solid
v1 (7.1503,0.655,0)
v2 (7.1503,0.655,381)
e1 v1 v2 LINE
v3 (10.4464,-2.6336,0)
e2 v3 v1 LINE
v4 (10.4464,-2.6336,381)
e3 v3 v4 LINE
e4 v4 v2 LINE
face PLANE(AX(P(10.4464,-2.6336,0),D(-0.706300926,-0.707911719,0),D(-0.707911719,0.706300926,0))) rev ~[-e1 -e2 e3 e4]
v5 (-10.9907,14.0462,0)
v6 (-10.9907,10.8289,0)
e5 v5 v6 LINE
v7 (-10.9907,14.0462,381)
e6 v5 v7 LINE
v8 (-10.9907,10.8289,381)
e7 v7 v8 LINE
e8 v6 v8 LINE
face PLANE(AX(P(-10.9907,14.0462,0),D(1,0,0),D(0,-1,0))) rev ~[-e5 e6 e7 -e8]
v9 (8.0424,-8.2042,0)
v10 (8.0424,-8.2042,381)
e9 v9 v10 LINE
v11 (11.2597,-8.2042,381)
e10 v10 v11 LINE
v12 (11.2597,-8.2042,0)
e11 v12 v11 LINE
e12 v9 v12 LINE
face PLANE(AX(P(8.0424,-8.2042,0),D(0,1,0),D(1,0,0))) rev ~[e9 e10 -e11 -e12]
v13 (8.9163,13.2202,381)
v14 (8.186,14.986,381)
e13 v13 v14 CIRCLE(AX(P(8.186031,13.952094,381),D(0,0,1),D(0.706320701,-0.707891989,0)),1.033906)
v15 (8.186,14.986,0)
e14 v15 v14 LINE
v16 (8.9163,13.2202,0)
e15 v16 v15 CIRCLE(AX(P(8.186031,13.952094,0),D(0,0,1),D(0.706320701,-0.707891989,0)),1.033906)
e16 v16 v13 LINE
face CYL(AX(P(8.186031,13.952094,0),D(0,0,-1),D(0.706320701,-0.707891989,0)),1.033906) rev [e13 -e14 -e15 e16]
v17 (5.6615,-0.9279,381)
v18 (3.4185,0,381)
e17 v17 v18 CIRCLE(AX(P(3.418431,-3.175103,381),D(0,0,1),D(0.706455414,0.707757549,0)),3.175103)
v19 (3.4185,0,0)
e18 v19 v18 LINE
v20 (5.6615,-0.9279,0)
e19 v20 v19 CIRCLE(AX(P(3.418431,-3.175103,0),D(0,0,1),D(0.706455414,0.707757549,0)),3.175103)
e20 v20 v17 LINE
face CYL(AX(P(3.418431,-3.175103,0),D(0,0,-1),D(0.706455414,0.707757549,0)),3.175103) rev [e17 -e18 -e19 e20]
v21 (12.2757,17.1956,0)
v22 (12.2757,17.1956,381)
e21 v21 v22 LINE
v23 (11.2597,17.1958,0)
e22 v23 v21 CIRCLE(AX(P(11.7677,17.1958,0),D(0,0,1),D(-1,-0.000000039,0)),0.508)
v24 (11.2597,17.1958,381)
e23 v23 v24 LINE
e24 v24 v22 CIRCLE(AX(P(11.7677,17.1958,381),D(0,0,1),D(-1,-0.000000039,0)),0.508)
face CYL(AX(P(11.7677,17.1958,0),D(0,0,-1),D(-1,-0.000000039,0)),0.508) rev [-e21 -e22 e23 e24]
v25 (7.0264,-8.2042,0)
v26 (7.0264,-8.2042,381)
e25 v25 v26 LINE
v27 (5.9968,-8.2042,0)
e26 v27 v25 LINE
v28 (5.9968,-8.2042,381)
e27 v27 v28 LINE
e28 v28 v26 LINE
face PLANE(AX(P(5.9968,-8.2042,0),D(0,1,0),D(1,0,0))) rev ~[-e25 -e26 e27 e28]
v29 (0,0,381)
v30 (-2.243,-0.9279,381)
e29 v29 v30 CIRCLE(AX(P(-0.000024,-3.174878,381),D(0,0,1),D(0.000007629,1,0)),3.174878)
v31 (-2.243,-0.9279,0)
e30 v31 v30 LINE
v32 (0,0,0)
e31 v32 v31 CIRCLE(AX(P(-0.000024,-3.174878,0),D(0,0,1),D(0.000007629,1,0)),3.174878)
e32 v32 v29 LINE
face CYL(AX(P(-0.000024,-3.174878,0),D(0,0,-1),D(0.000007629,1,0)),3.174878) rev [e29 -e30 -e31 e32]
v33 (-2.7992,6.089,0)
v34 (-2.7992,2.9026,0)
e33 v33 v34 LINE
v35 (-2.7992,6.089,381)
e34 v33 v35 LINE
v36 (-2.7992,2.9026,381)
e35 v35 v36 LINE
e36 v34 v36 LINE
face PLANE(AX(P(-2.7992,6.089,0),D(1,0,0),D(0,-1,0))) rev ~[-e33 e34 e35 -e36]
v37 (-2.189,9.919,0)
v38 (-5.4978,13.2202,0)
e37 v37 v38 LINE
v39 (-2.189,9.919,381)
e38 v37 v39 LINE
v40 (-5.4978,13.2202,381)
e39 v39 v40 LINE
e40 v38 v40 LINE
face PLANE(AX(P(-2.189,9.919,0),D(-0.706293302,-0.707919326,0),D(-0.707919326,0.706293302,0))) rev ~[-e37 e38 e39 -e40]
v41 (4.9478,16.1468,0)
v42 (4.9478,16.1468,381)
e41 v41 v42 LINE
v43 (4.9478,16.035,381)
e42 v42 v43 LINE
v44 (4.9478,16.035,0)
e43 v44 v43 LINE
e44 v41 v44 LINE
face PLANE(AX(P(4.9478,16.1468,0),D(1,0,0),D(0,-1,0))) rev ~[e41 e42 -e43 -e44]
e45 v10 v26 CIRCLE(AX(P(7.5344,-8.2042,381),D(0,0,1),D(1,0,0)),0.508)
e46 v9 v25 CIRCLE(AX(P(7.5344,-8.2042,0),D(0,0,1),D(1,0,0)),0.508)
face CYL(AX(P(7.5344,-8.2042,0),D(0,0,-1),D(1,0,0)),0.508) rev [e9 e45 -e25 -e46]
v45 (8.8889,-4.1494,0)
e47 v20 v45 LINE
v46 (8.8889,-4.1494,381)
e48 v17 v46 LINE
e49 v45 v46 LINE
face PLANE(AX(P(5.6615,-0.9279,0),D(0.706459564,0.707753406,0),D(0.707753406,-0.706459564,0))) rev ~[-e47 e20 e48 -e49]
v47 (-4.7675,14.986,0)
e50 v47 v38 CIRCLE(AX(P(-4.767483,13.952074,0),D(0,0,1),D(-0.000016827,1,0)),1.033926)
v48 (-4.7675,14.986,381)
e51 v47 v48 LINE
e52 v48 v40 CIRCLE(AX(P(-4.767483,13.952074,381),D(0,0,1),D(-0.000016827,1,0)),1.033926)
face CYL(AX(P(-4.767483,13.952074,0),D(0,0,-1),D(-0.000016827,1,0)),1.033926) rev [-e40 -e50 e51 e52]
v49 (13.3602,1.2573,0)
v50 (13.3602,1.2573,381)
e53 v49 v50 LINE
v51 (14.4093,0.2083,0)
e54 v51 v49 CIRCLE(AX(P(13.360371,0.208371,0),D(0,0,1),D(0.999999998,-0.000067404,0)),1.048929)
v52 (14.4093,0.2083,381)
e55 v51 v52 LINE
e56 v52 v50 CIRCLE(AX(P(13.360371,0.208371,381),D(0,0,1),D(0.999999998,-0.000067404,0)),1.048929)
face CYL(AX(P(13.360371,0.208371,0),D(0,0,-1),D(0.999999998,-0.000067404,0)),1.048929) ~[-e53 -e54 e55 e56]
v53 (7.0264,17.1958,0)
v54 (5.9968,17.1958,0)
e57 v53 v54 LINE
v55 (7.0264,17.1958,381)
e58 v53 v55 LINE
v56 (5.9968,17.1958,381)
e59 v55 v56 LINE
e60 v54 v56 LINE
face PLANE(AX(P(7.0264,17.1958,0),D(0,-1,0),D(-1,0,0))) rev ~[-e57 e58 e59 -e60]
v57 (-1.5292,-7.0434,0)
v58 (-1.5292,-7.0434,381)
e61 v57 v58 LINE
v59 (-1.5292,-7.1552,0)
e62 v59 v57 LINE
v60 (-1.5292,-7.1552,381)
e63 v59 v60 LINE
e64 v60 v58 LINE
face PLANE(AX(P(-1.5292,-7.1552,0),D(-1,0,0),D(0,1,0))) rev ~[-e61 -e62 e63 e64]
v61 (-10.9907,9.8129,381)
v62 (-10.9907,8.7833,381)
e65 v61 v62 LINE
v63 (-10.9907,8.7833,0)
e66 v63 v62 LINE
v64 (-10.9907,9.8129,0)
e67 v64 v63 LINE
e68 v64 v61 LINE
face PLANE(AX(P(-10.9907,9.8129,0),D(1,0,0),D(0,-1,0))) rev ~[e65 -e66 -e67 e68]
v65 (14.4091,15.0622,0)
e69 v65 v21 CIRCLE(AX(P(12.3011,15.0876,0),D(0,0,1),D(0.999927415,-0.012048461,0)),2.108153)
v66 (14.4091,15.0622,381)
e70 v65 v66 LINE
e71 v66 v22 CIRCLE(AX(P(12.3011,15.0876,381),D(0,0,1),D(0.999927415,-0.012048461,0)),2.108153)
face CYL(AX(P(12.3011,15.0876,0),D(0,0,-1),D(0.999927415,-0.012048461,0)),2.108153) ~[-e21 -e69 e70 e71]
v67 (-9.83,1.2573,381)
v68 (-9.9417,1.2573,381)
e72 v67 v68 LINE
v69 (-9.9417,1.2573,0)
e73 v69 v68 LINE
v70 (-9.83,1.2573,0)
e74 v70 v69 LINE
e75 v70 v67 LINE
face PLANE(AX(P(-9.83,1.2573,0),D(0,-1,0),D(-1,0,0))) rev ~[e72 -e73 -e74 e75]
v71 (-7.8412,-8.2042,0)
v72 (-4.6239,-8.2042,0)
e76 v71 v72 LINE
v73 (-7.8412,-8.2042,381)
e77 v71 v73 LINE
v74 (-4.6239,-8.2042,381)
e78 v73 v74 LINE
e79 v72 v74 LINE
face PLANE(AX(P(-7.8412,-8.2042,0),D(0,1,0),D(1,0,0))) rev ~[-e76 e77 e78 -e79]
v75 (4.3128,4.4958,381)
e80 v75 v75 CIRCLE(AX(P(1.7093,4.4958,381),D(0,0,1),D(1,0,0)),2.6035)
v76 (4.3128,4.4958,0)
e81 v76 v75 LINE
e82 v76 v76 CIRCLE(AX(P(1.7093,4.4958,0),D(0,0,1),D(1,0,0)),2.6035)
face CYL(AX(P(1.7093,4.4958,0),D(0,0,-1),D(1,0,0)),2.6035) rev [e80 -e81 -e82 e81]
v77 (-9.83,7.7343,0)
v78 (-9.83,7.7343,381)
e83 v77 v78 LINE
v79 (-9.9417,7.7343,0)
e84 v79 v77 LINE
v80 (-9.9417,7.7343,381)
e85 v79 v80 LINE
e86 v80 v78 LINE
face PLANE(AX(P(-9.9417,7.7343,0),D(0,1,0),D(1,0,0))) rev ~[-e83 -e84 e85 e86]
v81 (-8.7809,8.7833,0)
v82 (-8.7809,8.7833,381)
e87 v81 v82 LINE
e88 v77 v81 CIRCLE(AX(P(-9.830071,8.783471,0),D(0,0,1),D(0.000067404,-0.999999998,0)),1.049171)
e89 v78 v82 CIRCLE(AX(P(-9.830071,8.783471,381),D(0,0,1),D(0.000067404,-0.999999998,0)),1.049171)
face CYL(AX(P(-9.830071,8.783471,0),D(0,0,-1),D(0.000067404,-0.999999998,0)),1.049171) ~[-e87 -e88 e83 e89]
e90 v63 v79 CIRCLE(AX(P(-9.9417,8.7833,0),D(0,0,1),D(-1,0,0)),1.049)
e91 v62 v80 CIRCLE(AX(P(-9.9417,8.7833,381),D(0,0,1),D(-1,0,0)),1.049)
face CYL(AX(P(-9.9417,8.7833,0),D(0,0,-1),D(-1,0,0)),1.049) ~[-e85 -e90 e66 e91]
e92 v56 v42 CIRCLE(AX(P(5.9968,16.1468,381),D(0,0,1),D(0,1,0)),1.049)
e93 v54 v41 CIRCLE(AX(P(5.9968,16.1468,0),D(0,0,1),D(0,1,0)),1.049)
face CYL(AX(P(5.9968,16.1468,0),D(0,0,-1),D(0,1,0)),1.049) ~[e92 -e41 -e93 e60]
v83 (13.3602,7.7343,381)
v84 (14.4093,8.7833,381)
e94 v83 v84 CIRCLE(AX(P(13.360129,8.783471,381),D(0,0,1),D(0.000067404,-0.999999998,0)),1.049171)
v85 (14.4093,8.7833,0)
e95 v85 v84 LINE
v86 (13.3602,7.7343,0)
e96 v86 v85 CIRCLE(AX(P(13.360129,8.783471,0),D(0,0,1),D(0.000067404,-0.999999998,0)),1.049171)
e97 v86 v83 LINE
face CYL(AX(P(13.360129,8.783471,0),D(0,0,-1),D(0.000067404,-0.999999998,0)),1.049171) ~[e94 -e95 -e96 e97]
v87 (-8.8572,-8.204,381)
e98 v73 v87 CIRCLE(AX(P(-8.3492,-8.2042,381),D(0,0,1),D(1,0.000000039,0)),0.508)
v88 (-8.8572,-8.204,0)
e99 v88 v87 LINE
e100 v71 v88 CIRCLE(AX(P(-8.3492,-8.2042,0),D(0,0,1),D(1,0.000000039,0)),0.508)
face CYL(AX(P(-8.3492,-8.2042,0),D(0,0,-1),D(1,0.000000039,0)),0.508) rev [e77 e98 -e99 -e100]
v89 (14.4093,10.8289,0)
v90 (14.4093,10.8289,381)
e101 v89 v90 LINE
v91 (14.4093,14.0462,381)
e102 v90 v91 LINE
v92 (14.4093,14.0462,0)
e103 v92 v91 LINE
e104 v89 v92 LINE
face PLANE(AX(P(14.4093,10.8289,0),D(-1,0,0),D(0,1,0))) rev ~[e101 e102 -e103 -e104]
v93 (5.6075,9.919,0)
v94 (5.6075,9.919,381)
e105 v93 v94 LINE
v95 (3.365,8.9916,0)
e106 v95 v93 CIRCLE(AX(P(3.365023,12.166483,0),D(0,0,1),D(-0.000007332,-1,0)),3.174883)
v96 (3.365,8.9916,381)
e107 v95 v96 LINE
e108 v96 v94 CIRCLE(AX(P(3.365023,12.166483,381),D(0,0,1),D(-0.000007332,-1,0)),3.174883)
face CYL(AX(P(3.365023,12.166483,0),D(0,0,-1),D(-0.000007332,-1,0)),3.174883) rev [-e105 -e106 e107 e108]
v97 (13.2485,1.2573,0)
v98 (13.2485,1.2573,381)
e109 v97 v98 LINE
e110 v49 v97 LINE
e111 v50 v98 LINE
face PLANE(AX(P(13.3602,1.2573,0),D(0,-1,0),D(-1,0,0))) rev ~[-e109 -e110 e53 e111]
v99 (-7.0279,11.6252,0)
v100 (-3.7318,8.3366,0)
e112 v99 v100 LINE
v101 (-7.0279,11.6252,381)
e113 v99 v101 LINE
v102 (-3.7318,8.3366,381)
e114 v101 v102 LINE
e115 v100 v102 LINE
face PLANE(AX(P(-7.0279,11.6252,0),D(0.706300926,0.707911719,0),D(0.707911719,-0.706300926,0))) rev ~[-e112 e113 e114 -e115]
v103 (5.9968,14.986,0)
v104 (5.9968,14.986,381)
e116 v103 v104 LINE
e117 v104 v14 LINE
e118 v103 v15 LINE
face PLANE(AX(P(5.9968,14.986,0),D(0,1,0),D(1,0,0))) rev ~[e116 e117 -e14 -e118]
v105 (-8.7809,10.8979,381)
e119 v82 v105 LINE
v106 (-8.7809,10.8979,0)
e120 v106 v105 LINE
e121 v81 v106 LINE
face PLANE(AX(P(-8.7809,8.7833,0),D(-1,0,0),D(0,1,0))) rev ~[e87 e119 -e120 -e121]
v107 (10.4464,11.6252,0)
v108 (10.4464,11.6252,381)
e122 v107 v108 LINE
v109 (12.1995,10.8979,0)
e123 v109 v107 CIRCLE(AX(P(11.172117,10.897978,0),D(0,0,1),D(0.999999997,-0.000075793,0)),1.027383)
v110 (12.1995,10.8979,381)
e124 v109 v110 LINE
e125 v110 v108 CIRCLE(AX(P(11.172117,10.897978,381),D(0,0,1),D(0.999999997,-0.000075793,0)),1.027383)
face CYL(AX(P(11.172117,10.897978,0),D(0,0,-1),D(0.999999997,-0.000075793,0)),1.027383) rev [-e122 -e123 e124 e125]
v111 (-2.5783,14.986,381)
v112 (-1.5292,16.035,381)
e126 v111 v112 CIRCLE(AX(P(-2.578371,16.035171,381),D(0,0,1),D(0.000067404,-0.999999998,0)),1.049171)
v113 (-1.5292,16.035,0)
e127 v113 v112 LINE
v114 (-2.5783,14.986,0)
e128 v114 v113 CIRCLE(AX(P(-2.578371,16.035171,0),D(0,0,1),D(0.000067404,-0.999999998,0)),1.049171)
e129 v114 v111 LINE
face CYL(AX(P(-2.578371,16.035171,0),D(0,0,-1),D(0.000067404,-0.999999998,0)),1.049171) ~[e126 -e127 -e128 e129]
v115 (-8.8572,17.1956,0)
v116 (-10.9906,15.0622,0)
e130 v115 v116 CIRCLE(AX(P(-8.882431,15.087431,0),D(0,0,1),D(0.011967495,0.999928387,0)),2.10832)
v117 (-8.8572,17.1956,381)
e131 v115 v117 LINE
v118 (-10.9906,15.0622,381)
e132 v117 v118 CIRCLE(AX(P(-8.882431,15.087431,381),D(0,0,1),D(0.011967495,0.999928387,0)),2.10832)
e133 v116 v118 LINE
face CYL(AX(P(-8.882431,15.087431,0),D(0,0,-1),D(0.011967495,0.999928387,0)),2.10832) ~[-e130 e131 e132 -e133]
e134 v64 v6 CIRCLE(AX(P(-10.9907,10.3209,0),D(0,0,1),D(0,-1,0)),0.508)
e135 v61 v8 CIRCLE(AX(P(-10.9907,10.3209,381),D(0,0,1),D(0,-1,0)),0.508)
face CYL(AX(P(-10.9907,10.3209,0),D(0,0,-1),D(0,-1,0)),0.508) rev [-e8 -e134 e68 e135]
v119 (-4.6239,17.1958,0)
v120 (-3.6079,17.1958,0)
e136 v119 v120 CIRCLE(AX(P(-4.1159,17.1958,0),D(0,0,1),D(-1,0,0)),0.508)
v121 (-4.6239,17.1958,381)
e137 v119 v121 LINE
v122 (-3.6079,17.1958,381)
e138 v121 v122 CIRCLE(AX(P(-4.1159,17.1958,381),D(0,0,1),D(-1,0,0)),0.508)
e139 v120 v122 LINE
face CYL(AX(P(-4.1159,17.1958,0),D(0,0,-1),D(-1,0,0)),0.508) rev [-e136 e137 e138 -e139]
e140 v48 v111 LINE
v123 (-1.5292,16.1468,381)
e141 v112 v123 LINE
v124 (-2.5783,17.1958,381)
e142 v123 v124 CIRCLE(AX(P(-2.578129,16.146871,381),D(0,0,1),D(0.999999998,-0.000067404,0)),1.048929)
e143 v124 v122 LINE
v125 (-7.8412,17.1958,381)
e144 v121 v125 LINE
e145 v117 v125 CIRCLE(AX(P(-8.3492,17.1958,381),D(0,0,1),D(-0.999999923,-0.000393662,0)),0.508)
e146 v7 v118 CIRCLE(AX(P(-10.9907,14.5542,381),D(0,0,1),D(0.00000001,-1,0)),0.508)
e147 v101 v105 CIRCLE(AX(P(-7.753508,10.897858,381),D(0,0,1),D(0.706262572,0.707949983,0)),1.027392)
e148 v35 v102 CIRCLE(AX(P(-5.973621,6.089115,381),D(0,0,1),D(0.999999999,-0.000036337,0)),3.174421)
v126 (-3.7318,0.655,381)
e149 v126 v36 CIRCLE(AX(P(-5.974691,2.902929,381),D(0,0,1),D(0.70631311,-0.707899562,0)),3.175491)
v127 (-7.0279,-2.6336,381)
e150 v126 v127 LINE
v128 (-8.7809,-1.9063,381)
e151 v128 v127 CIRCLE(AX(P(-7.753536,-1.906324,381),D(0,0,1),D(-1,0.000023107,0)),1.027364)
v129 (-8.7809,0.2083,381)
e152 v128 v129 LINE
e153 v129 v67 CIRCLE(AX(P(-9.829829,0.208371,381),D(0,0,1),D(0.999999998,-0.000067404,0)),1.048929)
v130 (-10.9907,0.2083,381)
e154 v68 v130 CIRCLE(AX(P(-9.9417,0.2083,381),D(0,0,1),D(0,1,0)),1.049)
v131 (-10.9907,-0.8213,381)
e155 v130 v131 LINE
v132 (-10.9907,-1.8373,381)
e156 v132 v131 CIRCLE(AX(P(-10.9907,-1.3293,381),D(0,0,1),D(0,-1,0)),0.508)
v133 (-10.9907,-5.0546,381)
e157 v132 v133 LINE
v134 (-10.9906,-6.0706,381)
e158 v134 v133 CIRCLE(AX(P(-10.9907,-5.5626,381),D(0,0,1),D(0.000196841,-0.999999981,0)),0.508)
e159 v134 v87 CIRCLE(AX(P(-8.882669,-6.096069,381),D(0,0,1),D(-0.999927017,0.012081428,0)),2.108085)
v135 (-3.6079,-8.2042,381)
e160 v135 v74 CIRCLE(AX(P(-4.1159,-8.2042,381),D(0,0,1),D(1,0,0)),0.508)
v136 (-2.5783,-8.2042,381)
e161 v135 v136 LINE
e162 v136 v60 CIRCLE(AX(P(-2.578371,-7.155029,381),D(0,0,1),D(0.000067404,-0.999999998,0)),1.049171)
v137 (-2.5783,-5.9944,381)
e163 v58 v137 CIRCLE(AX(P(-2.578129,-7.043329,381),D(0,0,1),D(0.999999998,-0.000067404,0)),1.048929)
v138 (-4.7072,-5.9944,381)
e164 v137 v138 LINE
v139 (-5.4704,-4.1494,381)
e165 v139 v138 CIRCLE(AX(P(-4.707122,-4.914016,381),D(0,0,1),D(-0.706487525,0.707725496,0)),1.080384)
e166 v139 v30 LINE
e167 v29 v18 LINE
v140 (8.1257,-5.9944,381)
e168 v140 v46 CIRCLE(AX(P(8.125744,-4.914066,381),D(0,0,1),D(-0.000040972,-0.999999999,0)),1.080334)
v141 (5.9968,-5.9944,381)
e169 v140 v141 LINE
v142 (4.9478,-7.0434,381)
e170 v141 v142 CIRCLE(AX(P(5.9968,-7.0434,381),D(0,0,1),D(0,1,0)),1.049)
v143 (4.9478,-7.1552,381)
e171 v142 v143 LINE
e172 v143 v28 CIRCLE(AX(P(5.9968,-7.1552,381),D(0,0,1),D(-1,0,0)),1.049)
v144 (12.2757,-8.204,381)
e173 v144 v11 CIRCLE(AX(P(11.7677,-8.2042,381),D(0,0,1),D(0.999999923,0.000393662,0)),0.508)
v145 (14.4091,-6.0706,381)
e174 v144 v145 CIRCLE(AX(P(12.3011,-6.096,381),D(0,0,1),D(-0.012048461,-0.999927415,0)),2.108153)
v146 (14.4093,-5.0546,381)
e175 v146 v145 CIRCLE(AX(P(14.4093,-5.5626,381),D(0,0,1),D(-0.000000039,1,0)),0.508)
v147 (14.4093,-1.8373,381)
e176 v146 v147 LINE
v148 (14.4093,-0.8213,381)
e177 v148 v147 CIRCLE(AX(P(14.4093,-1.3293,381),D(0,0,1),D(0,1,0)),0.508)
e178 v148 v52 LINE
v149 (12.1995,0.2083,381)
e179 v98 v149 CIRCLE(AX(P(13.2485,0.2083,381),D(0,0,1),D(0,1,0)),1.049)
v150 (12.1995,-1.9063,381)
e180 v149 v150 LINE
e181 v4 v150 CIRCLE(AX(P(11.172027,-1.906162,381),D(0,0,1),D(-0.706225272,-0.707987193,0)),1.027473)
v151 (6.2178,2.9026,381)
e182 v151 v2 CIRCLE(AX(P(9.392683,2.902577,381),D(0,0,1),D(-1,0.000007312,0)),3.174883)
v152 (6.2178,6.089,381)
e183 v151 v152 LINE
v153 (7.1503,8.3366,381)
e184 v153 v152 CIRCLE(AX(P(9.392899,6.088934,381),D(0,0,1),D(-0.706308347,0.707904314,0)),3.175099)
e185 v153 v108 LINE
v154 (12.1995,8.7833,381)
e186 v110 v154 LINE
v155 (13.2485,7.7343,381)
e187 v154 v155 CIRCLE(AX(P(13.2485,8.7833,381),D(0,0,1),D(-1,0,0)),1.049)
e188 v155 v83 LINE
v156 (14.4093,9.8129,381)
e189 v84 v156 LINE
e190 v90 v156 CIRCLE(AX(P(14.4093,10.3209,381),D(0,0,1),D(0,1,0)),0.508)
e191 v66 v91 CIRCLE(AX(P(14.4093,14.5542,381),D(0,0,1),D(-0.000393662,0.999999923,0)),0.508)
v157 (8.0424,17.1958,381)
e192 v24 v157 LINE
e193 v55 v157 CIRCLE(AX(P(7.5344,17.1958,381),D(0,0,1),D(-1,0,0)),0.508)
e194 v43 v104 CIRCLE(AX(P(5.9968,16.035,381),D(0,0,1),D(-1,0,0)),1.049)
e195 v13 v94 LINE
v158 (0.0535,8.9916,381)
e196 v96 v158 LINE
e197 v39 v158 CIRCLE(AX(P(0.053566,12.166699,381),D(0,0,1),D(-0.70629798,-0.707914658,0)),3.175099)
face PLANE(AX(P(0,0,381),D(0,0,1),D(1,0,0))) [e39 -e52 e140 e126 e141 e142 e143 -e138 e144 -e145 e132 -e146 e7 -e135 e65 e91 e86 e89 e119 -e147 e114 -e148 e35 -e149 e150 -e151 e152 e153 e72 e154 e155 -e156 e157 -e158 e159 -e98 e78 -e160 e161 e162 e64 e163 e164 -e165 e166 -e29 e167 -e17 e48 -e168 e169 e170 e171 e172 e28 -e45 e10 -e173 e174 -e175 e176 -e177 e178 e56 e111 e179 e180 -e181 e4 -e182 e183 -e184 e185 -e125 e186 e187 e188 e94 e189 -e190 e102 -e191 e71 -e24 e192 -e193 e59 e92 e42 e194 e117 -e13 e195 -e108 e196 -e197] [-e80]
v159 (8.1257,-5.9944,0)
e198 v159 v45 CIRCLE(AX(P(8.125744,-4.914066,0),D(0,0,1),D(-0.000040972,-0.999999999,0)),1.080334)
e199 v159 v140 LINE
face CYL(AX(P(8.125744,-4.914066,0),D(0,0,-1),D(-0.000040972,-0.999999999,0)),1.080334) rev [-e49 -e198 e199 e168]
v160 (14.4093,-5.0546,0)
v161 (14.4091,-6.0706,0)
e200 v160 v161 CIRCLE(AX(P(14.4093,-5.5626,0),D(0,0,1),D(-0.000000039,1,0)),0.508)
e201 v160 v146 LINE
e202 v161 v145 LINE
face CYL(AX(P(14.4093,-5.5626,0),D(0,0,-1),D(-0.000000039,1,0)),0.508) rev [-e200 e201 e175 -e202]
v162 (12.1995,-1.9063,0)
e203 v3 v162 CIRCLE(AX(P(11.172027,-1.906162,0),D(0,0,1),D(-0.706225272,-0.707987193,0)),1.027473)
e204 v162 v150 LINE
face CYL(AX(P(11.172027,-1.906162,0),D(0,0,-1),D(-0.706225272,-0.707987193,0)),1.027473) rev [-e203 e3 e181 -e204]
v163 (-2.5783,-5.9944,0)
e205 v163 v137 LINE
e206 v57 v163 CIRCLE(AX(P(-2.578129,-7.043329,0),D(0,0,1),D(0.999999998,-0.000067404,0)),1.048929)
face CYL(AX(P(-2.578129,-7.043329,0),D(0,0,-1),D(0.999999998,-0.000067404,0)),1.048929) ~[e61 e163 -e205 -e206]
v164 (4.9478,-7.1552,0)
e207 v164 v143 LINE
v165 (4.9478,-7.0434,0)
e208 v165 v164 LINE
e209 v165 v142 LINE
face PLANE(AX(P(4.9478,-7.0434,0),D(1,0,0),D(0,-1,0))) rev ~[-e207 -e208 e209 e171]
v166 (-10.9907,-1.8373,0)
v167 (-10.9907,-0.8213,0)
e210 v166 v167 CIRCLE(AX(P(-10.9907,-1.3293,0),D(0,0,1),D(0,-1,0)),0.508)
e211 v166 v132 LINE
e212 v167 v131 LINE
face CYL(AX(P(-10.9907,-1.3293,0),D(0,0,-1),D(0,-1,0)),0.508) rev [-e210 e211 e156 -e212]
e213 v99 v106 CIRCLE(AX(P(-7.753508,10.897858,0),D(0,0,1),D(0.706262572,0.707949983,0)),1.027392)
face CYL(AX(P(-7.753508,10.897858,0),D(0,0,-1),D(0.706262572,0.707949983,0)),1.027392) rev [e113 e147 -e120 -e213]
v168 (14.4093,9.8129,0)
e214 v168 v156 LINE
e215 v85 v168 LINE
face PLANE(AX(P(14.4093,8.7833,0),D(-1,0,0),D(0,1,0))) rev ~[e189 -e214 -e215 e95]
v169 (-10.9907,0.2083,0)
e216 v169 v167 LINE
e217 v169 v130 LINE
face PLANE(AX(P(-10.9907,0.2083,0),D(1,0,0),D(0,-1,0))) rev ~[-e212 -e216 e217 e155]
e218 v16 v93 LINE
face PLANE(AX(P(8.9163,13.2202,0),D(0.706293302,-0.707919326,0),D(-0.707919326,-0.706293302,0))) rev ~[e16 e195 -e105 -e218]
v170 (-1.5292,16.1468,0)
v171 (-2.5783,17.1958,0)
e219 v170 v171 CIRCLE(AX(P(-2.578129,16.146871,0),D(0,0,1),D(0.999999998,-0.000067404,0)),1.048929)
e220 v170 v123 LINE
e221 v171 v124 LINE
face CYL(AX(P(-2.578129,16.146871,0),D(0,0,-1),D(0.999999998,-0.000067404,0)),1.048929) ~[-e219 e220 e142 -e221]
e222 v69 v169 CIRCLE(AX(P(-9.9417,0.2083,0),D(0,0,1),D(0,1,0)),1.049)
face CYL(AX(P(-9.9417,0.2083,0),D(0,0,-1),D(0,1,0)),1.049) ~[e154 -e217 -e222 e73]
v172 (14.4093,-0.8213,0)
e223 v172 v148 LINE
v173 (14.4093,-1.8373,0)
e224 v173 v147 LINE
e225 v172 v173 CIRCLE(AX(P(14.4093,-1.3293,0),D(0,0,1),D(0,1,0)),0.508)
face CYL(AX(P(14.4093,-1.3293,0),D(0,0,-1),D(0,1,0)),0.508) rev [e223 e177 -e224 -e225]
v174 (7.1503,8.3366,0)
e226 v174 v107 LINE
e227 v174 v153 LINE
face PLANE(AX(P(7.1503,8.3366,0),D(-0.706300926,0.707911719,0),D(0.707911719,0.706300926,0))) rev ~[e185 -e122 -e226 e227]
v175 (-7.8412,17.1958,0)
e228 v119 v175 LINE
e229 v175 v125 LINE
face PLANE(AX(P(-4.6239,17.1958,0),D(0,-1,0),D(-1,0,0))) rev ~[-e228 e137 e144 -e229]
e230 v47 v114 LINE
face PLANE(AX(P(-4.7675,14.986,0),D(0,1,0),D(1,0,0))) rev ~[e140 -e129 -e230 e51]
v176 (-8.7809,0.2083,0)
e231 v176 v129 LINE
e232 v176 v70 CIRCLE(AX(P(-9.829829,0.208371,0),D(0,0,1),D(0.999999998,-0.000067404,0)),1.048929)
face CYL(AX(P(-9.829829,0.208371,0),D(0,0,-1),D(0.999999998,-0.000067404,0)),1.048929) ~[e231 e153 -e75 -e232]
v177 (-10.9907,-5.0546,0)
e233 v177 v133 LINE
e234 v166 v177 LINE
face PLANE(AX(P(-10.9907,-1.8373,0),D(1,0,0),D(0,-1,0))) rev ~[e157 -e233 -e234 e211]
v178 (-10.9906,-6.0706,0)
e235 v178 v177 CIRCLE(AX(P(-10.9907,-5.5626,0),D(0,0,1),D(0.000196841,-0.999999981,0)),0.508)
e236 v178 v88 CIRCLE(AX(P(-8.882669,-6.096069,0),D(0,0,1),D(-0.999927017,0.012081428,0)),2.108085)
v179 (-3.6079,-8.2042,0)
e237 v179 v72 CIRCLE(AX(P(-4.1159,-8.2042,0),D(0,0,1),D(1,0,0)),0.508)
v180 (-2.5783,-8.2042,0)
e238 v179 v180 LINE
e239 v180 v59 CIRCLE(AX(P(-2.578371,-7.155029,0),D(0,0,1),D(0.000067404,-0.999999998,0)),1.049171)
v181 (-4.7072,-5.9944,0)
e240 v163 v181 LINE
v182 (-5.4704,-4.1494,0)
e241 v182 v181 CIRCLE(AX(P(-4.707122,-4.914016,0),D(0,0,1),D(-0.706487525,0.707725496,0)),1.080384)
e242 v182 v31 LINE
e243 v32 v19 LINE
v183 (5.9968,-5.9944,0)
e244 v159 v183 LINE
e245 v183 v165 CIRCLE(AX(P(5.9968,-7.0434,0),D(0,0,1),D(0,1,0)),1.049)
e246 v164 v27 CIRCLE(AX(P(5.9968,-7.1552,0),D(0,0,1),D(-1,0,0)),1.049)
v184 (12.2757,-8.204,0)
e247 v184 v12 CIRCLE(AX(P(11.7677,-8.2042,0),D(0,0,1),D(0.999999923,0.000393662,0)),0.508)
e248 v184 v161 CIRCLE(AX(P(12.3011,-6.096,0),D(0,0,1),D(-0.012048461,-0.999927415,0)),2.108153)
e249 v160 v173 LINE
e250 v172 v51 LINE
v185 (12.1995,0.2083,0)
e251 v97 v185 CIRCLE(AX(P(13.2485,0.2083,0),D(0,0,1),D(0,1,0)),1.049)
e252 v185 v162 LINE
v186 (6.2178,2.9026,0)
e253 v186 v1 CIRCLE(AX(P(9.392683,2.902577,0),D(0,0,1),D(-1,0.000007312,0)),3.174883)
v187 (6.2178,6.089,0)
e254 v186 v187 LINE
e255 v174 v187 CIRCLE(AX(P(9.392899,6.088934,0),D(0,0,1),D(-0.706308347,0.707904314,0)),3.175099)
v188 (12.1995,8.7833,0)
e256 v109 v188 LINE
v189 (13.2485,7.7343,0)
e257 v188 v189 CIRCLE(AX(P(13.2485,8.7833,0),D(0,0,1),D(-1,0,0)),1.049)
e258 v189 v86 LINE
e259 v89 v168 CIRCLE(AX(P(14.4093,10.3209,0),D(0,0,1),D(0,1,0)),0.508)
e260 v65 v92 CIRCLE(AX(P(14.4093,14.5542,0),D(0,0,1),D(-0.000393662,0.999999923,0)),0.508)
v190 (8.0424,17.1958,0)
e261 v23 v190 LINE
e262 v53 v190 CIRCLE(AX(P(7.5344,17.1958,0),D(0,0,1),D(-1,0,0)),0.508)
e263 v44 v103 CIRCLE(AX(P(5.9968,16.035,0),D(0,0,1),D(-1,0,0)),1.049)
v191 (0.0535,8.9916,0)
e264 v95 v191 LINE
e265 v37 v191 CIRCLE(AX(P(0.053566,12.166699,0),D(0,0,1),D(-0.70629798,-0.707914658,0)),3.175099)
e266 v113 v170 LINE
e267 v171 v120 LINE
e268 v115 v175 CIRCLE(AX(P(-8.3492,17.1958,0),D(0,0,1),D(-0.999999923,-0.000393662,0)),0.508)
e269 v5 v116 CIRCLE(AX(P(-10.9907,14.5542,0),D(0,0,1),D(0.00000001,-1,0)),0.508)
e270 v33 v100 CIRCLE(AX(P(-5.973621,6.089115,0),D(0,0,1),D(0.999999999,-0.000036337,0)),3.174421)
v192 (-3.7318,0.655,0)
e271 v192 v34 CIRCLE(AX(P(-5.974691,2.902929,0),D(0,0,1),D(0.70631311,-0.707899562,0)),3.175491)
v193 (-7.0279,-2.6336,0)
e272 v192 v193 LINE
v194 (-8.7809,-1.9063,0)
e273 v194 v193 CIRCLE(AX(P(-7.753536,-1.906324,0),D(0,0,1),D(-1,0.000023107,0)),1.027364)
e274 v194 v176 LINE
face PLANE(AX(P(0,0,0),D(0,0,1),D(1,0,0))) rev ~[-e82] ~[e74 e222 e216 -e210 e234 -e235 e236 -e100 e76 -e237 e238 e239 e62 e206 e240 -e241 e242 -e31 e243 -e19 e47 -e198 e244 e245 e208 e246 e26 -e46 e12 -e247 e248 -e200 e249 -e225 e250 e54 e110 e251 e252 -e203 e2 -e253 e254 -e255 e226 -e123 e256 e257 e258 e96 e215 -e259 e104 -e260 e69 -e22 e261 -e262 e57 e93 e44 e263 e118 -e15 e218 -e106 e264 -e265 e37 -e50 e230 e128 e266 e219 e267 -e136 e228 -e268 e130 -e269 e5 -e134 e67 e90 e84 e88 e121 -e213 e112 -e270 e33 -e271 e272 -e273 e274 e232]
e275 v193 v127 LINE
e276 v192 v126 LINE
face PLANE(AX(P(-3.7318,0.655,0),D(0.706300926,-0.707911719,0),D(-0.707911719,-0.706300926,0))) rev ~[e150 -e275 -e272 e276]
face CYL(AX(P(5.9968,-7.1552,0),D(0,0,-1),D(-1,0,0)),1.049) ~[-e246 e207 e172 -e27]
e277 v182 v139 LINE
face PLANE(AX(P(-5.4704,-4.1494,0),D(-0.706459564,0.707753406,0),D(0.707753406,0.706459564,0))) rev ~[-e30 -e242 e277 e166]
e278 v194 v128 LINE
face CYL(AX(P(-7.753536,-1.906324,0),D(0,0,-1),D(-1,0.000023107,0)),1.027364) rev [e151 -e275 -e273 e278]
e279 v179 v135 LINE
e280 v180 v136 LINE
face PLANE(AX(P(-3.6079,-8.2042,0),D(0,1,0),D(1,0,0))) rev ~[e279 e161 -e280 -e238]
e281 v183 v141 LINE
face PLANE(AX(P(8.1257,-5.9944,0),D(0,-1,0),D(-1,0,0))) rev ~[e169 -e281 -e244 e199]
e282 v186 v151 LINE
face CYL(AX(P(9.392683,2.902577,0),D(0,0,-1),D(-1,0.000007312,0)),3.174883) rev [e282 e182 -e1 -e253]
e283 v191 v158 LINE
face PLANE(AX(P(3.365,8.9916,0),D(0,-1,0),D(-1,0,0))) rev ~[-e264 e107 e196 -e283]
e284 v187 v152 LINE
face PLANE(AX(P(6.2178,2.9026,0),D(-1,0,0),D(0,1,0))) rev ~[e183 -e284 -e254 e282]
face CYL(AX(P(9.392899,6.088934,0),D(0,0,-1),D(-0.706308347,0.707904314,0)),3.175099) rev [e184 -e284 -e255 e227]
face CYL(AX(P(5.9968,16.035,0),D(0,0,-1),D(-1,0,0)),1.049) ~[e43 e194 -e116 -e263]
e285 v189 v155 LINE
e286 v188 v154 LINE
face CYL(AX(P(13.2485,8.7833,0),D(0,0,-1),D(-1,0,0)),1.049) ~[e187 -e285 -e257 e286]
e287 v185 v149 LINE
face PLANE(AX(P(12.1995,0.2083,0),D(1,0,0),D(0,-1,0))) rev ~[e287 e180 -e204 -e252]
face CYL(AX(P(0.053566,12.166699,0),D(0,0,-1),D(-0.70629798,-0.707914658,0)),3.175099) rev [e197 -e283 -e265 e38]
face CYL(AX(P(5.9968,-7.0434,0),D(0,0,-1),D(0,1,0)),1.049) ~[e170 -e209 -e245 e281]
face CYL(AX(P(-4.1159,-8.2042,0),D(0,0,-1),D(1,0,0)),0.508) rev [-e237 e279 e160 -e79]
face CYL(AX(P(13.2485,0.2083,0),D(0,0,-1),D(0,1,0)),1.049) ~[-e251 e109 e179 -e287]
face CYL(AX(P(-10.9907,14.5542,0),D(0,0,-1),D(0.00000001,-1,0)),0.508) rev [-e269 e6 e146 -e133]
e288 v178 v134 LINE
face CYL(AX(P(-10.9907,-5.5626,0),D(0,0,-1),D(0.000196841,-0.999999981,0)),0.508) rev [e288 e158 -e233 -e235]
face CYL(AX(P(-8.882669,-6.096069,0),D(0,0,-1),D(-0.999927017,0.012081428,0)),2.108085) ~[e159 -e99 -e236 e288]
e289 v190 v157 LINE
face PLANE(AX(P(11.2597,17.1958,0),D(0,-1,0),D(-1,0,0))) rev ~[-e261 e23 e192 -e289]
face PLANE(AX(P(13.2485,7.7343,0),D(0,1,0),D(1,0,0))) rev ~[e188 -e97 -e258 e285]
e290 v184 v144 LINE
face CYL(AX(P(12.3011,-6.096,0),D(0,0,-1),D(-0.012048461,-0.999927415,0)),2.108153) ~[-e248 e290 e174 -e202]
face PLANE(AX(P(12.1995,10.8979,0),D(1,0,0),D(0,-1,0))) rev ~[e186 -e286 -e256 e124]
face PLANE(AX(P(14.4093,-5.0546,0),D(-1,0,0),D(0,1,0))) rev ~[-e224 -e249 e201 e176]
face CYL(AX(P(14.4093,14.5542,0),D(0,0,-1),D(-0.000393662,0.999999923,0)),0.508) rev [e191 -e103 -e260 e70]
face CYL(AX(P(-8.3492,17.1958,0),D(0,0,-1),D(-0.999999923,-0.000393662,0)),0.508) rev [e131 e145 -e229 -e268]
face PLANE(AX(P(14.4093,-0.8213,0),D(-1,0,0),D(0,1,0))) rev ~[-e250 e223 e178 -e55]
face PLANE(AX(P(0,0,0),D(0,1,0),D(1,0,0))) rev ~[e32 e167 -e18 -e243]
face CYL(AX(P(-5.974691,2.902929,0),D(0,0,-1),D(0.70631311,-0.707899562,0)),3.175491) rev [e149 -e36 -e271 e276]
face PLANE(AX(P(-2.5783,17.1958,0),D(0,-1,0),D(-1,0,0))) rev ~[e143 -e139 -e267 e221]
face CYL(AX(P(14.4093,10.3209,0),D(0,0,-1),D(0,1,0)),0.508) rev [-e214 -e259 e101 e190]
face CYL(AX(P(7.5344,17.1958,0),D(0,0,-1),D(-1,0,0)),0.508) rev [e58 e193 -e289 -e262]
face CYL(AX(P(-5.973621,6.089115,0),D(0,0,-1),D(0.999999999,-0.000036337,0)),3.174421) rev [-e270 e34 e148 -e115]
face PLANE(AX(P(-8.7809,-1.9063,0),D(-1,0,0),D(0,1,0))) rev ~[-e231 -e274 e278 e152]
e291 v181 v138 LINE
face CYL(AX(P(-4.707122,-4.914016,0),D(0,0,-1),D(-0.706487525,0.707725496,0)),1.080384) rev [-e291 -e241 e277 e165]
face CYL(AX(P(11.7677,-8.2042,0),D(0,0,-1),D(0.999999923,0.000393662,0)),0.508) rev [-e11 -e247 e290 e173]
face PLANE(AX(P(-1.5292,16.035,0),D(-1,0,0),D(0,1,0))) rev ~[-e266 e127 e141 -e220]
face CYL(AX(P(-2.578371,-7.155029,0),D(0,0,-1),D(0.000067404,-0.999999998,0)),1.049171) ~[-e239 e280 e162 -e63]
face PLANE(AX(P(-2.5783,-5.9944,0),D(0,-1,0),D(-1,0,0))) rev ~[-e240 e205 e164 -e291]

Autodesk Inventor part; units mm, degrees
ref_plane "YZ Plane" through (0, 0, 0) normal (1, 0, 0) x (0, 1, 0)
ref_plane "XZ Plane" through (0, 0, 0) normal (0, 1, 0) x (-1, 0, 0)
ref_plane "XY Plane" through (0, 0, 0) normal (0, 0, 1) x (1, 0, 0)
sketch "Sketch1" plane through (0, 0, 0) normal (0, 0, 1) x (1, 0, 0)
  arc A0 (-5.4704, -4.1494) -> (-4.7072, -5.9944) centre (-4.7072, -4.914) ccw
  line L0 (-5.4704, -4.1494) -> (-2.243, -0.9279)
  arc A1 (0, 0) -> (-2.243, -0.9279) centre (0, -3.175) ccw
  line L1 (0, 0) -> (3.4185, 0)
  arc A2 (5.6615, -0.9279) -> (3.4185, 0) centre (3.4185, -3.175) ccw
  line L2 (5.6615, -0.9279) -> (8.8889, -4.1494)
  arc A3 (8.1257, -5.9944) -> (8.8889, -4.1494) centre (8.1257, -4.914) ccw
  line L3 (8.1257, -5.9944) -> (5.9968, -5.9944)
  arc A4 (5.9968, -5.9944) -> (4.9478, -7.0434) centre (5.9968, -7.0434) ccw
  line L4 (4.9478, -7.0434) -> (4.9478, -7.1552)
  arc A5 (4.9478, -7.1552) -> (5.9968, -8.2042) centre (5.9968, -7.1552) ccw
  line L5 (5.9968, -8.2042) -> (7.0264, -8.2042)
  arc A6 (8.0424, -8.2042) -> (7.0264, -8.2042) centre (7.5344, -8.2042) ccw
  line L6 (8.0424, -8.2042) -> (11.2597, -8.2042)
  arc A7 (12.2757, -8.204) -> (11.2597, -8.2042) centre (11.7677, -8.2042) ccw
  arc A8 (12.2757, -8.204) -> (14.4091, -6.0706) centre (12.3011, -6.096) ccw
  arc A9 (14.4093, -5.0546) -> (14.4091, -6.0706) centre (14.4093, -5.5626) ccw
  line L7 (14.4093, -5.0546) -> (14.4093, -1.8373)
  arc A10 (14.4093, -0.8213) -> (14.4093, -1.8373) centre (14.4093, -1.3293) ccw
  line L8 (14.4093, -0.8213) -> (14.4093, 0.2083)
  arc A11 (14.4093, 0.2083) -> (13.3602, 1.2573) centre (13.3602, 0.2083) ccw
  line L9 (13.3602, 1.2573) -> (13.2485, 1.2573)
  arc A12 (13.2485, 1.2573) -> (12.1995, 0.2083) centre (13.2485, 0.2083) ccw
  line L10 (12.1995, 0.2083) -> (12.1995, -1.9063)
  arc A13 (10.4464, -2.6336) -> (12.1995, -1.9063) centre (11.172, -1.9063) ccw
  line L11 (10.4464, -2.6336) -> (7.1503, 0.655)
  arc A14 (6.2178, 2.9026) -> (7.1503, 0.655) centre (9.3928, 2.9026) ccw
  line L12 (6.2178, 2.9026) -> (6.2178, 6.089)
  arc A15 (7.1503, 8.3366) -> (6.2178, 6.089) centre (9.3928, 6.089) ccw
  line L13 (7.1503, 8.3366) -> (10.4464, 11.6252)
  arc A16 (12.1995, 10.8979) -> (10.4464, 11.6252) centre (11.172, 10.8979) ccw
  line L14 (12.1995, 10.8979) -> (12.1995, 8.7833)
  arc A17 (12.1995, 8.7833) -> (13.2485, 7.7343) centre (13.2485, 8.7833) ccw
  line L15 (13.2485, 7.7343) -> (13.3602, 7.7343)
  arc A18 (13.3602, 7.7343) -> (14.4093, 8.7833) centre (13.3602, 8.7833) ccw
  line L16 (14.4093, 8.7833) -> (14.4093, 9.8129)
  arc A19 (14.4093, 10.8289) -> (14.4093, 9.8129) centre (14.4093, 10.3209) ccw
  line L17 (14.4093, 10.8289) -> (14.4093, 14.0462)
  arc A20 (14.4091, 15.0622) -> (14.4093, 14.0462) centre (14.4093, 14.5542) ccw
  arc A21 (14.4091, 15.0622) -> (12.2757, 17.1956) centre (12.3011, 15.0876) ccw
  arc A22 (11.2597, 17.1958) -> (12.2757, 17.1956) centre (11.7677, 17.1958) ccw
  line L18 (11.2597, 17.1958) -> (8.0424, 17.1958)
  arc A23 (7.0264, 17.1958) -> (8.0424, 17.1958) centre (7.5344, 17.1958) ccw
  line L19 (7.0264, 17.1958) -> (5.9968, 17.1958)
  arc A24 (5.9968, 17.1958) -> (4.9478, 16.1468) centre (5.9968, 16.1468) ccw
  line L20 (4.9478, 16.1468) -> (4.9478, 16.035)
  arc A25 (4.9478, 16.035) -> (5.9968, 14.986) centre (5.9968, 16.035) ccw
  line L21 (5.9968, 14.986) -> (8.186, 14.986)
  arc A26 (8.9163, 13.2202) -> (8.186, 14.986) centre (8.186, 13.9521) ccw
  line L22 (8.9163, 13.2202) -> (5.6075, 9.919)
  arc A27 (3.365, 8.9916) -> (5.6075, 9.919) centre (3.365, 12.1666) ccw
  line L23 (3.365, 8.9916) -> (0.0535, 8.9916)
  arc A28 (-2.189, 9.919) -> (0.0535, 8.9916) centre (0.0535, 12.1666) ccw
  line L24 (-2.189, 9.919) -> (-5.4978, 13.2202)
  arc A29 (-4.7675, 14.986) -> (-5.4978, 13.2202) centre (-4.7675, 13.9521) ccw
  line L25 (-4.7675, 14.986) -> (-2.5783, 14.986)
  arc A30 (-2.5783, 14.986) -> (-1.5292, 16.035) centre (-2.5783, 16.035) ccw
  line L26 (-1.5292, 16.035) -> (-1.5292, 16.1468)
  arc A31 (-1.5292, 16.1468) -> (-2.5783, 17.1958) centre (-2.5783, 16.1468) ccw
  line L27 (-2.5783, 17.1958) -> (-3.6079, 17.1958)
  arc A32 (-4.6239, 17.1958) -> (-3.6079, 17.1958) centre (-4.1159, 17.1958) ccw
  line L28 (-4.6239, 17.1958) -> (-7.8412, 17.1958)
  arc A33 (-8.8572, 17.1956) -> (-7.8412, 17.1958) centre (-8.3492, 17.1958) ccw
  arc A34 (-8.8572, 17.1956) -> (-10.9906, 15.0622) centre (-8.8825, 15.0876) ccw
  arc A35 (-10.9907, 14.0462) -> (-10.9906, 15.0622) centre (-10.9907, 14.5542) ccw
  line L29 (-10.9907, 14.0462) -> (-10.9907, 10.8289)
  arc A36 (-10.9907, 9.8129) -> (-10.9907, 10.8289) centre (-10.9907, 10.3209) ccw
  line L30 (-10.9907, 9.8129) -> (-10.9907, 8.7833)
  arc A37 (-10.9907, 8.7833) -> (-9.9417, 7.7343) centre (-9.9417, 8.7833) ccw
  line L31 (-9.9417, 7.7343) -> (-9.83, 7.7343)
  arc A38 (-9.83, 7.7343) -> (-8.7809, 8.7833) centre (-9.83, 8.7833) ccw
  line L32 (-8.7809, 8.7833) -> (-8.7809, 10.8979)
  arc A39 (-7.0279, 11.6252) -> (-8.7809, 10.8979) centre (-7.7535, 10.8979) ccw
  line L33 (-7.0279, 11.6252) -> (-3.7318, 8.3366)
  arc A40 (-2.7992, 6.089) -> (-3.7318, 8.3366) centre (-5.9742, 6.089) ccw
  line L34 (-2.7992, 6.089) -> (-2.7992, 2.9026)
  arc A41 (-3.7318, 0.655) -> (-2.7992, 2.9026) centre (-5.9742, 2.9026) ccw
  line L35 (-3.7318, 0.655) -> (-7.0279, -2.6336)
  arc A42 (-8.7809, -1.9063) -> (-7.0279, -2.6336) centre (-7.7535, -1.9063) ccw
  line L36 (-8.7809, -1.9063) -> (-8.7809, 0.2083)
  arc A43 (-8.7809, 0.2083) -> (-9.83, 1.2573) centre (-9.83, 0.2083) ccw
  line L37 (-9.83, 1.2573) -> (-9.9417, 1.2573)
  arc A44 (-9.9417, 1.2573) -> (-10.9907, 0.2083) centre (-9.9417, 0.2083) ccw
  line L38 (-10.9907, 0.2083) -> (-10.9907, -0.8213)
  arc A45 (-10.9907, -1.8373) -> (-10.9907, -0.8213) centre (-10.9907, -1.3293) ccw
  line L39 (-10.9907, -1.8373) -> (-10.9907, -5.0546)
  arc A46 (-10.9906, -6.0706) -> (-10.9907, -5.0546) centre (-10.9907, -5.5626) ccw
  arc A47 (-10.9906, -6.0706) -> (-8.8572, -8.204) centre (-8.8825, -6.096) ccw
  arc A48 (-7.8412, -8.2042) -> (-8.8572, -8.204) centre (-8.3492, -8.2042) ccw
  line L40 (-7.8412, -8.2042) -> (-4.6239, -8.2042)
  arc A49 (-3.6079, -8.2042) -> (-4.6239, -8.2042) centre (-4.1159, -8.2042) ccw
  line L41 (-3.6079, -8.2042) -> (-2.5783, -8.2042)
  arc A50 (-2.5783, -8.2042) -> (-1.5292, -7.1552) centre (-2.5783, -7.1552) ccw
  line L42 (-1.5292, -7.1552) -> (-1.5292, -7.0434)
  arc A51 (-1.5292, -7.0434) -> (-2.5783, -5.9944) centre (-2.5783, -7.0434) ccw
  line L43 (-2.5783, -5.9944) -> (-4.7072, -5.9944)
  circle A52 centre (1.7093, 4.4958) radius 2.6035
extrude "Extrusion1" add sketch "Sketch1" along normal blind 381
properties part number "15 in 1x1 T slot" material "Steel, Alloy"
